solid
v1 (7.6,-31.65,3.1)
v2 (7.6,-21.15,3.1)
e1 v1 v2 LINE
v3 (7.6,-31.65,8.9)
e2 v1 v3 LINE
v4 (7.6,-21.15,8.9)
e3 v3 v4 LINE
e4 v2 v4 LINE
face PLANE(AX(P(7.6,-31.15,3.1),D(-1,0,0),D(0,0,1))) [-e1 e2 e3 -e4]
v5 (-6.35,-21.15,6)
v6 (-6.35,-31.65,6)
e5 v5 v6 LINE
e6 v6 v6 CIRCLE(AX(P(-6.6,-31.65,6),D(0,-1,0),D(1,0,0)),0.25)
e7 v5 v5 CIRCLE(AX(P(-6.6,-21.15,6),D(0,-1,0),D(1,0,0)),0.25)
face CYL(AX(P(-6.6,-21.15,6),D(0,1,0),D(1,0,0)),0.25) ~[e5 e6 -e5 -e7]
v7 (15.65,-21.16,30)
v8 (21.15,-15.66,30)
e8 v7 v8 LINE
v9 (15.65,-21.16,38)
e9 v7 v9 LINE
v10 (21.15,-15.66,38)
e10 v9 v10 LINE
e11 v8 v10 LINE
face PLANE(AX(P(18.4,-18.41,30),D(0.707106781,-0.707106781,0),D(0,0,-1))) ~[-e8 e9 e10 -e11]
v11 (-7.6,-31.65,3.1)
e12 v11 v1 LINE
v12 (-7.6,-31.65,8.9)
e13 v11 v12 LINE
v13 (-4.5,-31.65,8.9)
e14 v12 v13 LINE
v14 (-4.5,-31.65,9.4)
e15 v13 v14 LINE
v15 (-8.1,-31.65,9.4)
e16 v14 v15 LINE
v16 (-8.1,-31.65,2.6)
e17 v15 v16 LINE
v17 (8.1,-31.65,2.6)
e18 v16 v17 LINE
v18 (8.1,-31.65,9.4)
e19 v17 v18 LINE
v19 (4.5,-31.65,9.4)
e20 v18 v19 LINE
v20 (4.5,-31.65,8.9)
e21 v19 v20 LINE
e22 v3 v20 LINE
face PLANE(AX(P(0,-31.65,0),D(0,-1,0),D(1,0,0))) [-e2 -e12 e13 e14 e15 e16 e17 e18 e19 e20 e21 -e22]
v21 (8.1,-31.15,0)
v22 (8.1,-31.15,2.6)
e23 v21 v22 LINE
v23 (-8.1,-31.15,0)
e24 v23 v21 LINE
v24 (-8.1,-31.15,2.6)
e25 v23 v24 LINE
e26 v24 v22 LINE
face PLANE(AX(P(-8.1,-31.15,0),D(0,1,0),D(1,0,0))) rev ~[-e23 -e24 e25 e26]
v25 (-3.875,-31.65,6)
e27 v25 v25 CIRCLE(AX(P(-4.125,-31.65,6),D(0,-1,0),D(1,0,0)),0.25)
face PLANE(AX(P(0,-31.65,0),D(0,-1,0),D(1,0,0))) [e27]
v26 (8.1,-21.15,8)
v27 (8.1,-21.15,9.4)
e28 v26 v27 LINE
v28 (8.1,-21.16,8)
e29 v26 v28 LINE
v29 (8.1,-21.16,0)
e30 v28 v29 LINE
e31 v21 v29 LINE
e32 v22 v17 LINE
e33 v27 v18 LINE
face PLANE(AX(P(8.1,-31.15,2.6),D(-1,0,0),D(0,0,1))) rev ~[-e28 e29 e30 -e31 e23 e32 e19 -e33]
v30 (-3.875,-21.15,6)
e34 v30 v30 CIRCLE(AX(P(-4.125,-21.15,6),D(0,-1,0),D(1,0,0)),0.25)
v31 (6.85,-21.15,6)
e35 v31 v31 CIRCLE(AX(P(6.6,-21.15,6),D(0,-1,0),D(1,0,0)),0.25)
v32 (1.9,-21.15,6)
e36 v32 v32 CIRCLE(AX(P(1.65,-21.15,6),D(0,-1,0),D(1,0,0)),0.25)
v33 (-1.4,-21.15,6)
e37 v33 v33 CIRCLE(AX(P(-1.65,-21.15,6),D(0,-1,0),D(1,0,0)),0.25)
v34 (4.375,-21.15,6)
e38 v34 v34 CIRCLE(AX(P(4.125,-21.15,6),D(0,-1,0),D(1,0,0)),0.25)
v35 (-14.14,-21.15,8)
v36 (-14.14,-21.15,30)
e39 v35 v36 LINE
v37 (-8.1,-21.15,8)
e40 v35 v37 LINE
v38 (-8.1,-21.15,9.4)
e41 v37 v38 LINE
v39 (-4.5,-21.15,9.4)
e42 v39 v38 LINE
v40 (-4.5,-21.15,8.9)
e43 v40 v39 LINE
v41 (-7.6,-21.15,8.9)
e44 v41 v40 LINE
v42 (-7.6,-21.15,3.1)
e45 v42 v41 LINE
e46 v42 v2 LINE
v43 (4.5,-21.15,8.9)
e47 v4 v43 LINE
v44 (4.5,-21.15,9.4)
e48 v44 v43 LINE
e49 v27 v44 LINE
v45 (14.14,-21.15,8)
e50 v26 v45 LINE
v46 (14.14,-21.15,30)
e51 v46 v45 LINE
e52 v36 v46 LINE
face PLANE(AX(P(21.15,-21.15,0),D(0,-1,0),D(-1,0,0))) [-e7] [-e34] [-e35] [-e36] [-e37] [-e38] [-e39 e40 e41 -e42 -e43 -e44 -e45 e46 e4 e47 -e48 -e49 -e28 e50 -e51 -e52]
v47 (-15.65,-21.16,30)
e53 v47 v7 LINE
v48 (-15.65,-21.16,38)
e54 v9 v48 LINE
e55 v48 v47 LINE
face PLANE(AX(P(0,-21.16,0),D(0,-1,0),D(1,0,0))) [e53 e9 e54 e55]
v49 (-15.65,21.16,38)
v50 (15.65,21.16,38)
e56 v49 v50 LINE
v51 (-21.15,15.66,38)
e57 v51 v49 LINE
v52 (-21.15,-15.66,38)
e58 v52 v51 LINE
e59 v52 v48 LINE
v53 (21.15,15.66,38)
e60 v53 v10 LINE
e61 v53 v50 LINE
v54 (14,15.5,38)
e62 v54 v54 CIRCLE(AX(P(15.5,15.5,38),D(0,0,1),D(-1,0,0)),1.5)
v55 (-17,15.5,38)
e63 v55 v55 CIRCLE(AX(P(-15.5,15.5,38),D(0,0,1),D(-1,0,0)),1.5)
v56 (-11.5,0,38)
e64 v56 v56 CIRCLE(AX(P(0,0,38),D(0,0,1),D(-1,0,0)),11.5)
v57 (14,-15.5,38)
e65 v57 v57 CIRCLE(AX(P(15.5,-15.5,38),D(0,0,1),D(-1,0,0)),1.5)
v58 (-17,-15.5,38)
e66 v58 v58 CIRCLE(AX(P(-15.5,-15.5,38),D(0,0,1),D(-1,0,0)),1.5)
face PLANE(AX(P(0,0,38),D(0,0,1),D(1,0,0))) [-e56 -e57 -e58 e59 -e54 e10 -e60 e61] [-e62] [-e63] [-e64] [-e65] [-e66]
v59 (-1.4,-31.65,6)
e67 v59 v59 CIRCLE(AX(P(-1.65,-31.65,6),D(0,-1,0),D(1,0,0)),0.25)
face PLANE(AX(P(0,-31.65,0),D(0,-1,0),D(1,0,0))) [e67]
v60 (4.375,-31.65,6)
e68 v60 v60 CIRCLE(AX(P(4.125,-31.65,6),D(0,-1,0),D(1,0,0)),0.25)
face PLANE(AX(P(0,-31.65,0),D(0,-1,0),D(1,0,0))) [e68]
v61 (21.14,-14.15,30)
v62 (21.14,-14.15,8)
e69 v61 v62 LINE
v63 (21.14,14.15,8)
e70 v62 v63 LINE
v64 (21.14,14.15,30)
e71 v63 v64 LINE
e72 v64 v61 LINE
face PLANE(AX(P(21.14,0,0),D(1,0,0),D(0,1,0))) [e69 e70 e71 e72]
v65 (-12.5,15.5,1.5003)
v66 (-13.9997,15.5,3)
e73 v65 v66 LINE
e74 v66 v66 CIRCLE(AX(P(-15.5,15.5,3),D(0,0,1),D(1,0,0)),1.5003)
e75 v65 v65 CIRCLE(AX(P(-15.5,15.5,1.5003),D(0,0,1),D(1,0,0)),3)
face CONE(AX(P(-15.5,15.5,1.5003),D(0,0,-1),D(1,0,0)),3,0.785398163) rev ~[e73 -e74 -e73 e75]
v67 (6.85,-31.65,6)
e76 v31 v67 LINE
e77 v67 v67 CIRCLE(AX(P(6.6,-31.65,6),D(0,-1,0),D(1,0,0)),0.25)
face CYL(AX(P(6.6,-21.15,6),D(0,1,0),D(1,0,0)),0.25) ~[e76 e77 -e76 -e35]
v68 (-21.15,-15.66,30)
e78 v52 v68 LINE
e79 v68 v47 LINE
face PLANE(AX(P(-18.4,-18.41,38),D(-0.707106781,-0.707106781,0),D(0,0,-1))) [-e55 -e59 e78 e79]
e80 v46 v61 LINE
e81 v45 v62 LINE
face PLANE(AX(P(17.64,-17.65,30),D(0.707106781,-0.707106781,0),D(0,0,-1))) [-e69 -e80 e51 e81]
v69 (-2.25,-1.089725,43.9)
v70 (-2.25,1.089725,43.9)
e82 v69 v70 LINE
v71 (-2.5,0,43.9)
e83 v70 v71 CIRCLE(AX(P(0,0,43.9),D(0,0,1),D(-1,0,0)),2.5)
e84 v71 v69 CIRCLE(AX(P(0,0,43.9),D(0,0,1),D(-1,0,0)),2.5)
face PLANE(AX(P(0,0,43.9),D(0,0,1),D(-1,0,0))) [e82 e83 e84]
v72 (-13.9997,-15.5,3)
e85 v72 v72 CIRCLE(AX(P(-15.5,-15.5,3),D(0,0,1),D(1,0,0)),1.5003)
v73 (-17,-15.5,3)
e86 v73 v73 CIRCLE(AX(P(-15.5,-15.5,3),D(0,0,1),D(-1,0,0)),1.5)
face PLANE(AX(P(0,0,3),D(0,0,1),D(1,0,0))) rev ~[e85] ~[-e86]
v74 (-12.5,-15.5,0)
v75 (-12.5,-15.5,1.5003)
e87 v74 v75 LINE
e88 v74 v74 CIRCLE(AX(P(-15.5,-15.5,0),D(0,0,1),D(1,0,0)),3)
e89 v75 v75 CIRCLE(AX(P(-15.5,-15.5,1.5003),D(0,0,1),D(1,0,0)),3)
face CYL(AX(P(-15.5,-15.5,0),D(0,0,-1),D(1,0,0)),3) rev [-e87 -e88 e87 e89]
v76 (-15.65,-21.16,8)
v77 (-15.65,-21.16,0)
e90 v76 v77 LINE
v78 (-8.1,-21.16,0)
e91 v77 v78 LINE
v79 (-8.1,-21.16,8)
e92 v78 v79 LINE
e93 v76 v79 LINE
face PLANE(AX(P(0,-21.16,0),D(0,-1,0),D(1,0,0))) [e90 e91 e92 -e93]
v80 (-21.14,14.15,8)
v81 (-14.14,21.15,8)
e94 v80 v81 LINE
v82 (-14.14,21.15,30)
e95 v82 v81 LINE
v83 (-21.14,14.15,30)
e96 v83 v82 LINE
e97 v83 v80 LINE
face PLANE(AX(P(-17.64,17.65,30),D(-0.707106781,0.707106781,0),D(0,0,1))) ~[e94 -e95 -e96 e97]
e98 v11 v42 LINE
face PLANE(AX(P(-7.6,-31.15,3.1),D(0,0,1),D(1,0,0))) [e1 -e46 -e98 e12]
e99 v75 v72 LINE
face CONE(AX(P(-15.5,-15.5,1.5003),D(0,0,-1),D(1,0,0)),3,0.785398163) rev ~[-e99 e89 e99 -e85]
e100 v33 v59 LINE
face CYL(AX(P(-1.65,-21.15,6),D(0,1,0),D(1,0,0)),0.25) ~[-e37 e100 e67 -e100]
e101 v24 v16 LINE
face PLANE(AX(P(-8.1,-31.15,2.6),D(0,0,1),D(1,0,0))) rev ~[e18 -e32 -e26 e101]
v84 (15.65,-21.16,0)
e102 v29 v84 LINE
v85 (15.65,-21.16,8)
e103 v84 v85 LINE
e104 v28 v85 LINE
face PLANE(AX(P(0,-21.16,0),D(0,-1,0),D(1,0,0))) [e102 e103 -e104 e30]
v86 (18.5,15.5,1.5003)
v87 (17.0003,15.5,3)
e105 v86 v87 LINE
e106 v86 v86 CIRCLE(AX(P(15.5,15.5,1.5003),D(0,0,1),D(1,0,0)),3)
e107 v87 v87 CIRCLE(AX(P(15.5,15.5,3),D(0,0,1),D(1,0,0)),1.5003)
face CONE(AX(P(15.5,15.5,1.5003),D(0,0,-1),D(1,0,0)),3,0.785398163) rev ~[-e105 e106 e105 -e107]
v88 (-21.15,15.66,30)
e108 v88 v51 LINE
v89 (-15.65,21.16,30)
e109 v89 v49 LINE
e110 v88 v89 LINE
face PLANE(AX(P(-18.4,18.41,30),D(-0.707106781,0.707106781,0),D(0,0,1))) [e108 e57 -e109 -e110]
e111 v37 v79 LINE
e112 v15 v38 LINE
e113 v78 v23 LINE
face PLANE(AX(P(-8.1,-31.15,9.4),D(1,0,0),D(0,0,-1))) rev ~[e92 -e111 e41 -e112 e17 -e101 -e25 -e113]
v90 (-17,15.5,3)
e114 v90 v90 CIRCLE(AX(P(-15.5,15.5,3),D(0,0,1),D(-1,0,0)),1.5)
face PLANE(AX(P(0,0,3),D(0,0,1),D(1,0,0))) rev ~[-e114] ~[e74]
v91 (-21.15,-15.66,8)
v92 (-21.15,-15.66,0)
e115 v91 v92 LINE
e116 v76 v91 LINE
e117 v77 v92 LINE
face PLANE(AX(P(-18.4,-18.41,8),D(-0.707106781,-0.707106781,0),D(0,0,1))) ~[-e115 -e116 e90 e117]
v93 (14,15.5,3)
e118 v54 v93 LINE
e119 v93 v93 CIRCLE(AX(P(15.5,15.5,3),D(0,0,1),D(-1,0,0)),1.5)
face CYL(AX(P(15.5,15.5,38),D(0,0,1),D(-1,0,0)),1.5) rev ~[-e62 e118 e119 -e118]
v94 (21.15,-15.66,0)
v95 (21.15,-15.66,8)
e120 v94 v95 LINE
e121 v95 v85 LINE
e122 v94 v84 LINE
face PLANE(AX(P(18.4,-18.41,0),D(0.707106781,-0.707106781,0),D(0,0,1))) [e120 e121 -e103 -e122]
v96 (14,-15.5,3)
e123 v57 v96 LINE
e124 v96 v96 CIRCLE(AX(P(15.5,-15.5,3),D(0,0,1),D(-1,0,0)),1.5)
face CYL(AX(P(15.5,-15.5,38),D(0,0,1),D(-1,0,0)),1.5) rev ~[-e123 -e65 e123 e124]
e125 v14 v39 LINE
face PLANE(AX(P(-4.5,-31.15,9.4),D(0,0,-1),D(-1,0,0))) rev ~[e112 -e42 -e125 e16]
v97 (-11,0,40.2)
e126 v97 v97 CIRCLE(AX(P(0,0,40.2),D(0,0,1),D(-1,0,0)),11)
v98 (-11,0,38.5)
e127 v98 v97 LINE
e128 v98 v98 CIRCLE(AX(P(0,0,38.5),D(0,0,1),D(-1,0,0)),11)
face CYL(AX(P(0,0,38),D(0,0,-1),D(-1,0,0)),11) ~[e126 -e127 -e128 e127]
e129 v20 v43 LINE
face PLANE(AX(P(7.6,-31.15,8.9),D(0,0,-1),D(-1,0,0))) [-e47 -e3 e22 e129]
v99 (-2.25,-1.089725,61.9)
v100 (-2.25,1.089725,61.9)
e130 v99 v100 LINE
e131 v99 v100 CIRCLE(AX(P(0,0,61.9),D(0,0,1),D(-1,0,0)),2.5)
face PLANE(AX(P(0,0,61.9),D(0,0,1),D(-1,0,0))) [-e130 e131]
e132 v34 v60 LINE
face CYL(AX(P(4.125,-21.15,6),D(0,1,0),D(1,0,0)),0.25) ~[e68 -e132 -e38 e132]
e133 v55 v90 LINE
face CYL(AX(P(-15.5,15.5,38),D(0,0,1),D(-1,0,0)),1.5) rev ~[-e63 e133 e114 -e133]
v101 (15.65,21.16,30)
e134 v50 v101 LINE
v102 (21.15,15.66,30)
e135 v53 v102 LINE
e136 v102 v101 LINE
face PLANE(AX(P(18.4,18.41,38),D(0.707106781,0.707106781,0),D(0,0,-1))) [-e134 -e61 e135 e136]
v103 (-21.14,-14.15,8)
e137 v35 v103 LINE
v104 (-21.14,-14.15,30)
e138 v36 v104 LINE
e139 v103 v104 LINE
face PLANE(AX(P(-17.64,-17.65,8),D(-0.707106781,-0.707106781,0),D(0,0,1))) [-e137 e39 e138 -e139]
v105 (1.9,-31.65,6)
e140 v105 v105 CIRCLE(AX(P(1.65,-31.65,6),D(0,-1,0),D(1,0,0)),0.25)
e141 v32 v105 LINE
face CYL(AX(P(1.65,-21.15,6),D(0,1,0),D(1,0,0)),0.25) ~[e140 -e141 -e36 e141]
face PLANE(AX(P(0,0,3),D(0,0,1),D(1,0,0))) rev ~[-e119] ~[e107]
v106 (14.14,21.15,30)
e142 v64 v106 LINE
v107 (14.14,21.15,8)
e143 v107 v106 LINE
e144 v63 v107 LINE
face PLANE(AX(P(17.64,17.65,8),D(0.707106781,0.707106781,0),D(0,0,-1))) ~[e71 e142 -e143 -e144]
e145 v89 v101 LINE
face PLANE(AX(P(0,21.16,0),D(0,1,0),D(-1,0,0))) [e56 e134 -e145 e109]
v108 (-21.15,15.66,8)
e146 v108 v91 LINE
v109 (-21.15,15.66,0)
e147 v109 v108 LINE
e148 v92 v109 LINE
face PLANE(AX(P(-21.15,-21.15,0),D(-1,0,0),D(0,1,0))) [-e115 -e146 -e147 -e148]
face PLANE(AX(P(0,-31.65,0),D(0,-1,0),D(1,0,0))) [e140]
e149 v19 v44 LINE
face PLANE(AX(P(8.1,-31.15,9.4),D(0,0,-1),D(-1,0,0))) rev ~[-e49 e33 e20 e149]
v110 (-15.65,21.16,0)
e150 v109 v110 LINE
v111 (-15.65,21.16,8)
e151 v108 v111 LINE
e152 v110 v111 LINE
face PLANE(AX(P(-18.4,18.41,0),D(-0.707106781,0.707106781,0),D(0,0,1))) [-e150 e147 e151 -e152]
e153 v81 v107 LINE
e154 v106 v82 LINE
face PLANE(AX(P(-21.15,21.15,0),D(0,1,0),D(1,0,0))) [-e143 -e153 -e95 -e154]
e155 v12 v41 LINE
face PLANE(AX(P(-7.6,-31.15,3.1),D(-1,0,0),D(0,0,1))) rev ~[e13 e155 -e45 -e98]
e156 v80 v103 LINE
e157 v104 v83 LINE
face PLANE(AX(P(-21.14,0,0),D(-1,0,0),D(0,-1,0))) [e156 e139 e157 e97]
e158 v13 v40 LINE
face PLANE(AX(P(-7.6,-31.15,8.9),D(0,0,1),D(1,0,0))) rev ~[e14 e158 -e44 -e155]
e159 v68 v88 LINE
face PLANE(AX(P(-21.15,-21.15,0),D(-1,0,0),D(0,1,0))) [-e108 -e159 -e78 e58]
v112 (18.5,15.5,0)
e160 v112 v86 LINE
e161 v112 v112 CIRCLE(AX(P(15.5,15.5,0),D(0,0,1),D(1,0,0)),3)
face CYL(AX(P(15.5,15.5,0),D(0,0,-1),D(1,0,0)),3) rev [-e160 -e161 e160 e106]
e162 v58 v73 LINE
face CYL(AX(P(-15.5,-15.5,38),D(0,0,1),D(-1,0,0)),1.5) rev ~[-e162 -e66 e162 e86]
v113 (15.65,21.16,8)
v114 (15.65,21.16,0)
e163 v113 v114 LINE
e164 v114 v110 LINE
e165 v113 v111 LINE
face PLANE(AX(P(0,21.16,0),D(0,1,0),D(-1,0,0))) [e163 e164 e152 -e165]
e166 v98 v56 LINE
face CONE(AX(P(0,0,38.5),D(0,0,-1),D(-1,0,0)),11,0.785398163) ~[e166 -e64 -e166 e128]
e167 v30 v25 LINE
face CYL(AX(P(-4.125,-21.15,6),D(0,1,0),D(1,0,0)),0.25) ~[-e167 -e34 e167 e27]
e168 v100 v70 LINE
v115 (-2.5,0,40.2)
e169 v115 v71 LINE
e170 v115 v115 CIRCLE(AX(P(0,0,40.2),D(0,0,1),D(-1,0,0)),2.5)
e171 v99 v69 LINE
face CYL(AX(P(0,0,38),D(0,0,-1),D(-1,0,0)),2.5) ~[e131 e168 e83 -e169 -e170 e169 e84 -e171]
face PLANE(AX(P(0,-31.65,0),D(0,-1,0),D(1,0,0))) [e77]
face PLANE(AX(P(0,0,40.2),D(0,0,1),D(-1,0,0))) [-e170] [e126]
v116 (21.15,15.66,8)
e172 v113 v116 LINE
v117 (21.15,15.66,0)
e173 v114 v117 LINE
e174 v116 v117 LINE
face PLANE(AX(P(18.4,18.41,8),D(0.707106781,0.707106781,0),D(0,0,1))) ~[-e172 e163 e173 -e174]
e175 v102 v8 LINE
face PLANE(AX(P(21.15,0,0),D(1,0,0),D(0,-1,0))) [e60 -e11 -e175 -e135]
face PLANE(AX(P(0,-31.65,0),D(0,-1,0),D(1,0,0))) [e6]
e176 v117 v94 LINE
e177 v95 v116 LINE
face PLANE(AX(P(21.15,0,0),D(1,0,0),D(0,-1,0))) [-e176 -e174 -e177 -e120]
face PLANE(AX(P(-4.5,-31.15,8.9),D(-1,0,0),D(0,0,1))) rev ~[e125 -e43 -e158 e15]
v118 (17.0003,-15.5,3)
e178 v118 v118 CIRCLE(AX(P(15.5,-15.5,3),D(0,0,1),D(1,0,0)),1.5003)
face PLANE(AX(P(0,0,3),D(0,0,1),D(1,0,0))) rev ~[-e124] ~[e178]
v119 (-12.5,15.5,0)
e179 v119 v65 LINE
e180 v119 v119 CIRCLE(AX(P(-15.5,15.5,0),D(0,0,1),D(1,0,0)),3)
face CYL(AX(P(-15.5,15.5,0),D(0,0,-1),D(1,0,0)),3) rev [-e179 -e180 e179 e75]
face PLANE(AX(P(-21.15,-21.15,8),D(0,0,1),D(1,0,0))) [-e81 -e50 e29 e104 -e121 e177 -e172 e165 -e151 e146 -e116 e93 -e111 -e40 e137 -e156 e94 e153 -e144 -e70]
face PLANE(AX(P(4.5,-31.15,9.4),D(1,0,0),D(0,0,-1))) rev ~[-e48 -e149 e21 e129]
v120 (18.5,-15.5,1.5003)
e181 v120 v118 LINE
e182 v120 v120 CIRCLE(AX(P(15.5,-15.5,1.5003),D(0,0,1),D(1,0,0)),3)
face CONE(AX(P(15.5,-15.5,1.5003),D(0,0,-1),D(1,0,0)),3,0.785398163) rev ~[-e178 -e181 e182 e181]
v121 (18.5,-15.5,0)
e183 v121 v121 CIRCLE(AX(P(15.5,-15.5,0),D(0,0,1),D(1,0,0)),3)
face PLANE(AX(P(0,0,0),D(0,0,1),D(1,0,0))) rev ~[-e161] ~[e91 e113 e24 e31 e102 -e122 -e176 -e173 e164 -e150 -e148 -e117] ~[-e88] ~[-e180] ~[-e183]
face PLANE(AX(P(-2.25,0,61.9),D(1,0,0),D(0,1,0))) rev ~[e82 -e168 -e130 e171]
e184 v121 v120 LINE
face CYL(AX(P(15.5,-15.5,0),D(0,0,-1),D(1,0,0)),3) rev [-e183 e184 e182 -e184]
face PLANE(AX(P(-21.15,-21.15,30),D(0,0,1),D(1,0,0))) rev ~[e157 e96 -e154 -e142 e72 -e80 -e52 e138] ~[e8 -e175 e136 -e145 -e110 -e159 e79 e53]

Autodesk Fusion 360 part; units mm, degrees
sketch "Sketch1" plane through (0, 0, 0) normal (0, 0, 1) x (1, 0, 0)
  line L0 (21.15, -21.15) -> (-21.15, -21.15)
  line L1 (-21.15, -21.15) -> (-21.15, 21.15)
  line L2 (-21.15, 21.15) -> (21.15, 21.15)
  line L3 (21.15, 21.15) -> (21.15, -21.15)
  line L4 (21.15, -21.15) -> (-21.15, 21.15) construction
  line L5 (-21.15, -21.15) -> (21.15, 21.15) construction
  line L6 (-8.1, -21.15) -> (8.1, -21.15)
  line L7 (-8.1, -21.15) -> (-8.1, -31.15)
  line L8 (-8.1, -31.15) -> (8.1, -31.15)
  line L9 (8.1, -31.15) -> (8.1, -21.15)
  line L10 (15.5, 15.5) -> (-15.5, 15.5) construction
  line L11 (-15.5, 15.5) -> (-15.5, -15.5) construction
  line L12 (-15.5, -15.5) -> (15.5, -15.5) construction
  line L13 (15.5, -15.5) -> (15.5, 15.5) construction
  line L14 (15.5, 15.5) -> (-15.5, -15.5) construction
  line L15 (-15.5, 15.5) -> (15.5, -15.5) construction
  circle A0 centre (-15.5, -15.5) radius 3
  circle A1 centre (15.5, -15.5) radius 3
  line L16 (1.75, 0) -> (22.5, 0)
  circle A2 centre (15.5, 15.5) radius 3
  circle A3 centre (-15.5, 15.5) radius 3
  dimension "d1" = 42.3
  dimension "d2" = 42.3
  dimension "d5" = 10
  dimension "d6" = 16.2
  dimension "d7" = 13.05
  dimension "d23" = 31
  dimension "d24" = 31
  dimension "d25" = 6
  dimension "d26" = 6
extrude "Extrude1" add sketch "Sketch1" along normal blind 38 contours L0 L1 L2 L3 L6 | A0 | A1 | A2 | A3
extrude "Extrude2" add sketch "Sketch1" along normal blind 9.4 contours L0 L6 L7 L8 L9
sketch "Sketch2" plane through (0, 0, 38) normal (0, 0, 1) x (-1, 0, 0)
  line L0 (21.15, 21.15) -> (-21.15, 21.15)
  line L1 (-21.15, 21.15) -> (-21.15, -21.15)
  line L2 (-21.15, -21.15) -> (21.15, -21.15)
  line L3 (21.15, -21.15) -> (21.15, 21.15)
  circle A0 centre (0, 0) radius 2.5
  dimension "d12" = 5
extrude "Extrude3" add sketch "Sketch2" along normal blind 23.9 contours A0
sketch "Sketch3" plane through (0, 0, 38) normal (0, 0, 1) x (-1, 0, 0)
  circle A0 centre (0, 0) radius 2.5
  line L0 (21.15, 21.15) -> (-21.15, 21.15)
  line L1 (-21.15, 21.15) -> (-21.15, -21.15)
  line L2 (-21.15, -21.15) -> (21.15, -21.15)
  line L3 (21.15, -21.15) -> (21.15, 21.15)
  line L4 (-15.5, 15.5) -> (15.5, 15.5) construction
  line L5 (15.5, 15.5) -> (15.5, -15.5) construction
  line L6 (15.5, -15.5) -> (-15.5, -15.5) construction
  line L7 (-15.5, -15.5) -> (-15.5, 15.5) construction
  line L8 (-15.5, 15.5) -> (15.5, -15.5) construction
  line L9 (15.5, 15.5) -> (-15.5, -15.5) construction
  circle A1 centre (15.5, -15.5) radius 1.5
  circle A2 centre (-15.5, -15.5) radius 1.5
  circle A3 centre (-15.5, 15.5) radius 1.5
  circle A4 centre (15.5, 15.5) radius 1.5
  circle A5 centre (0, 0) radius 11
  dimension "d15" = 31
  dimension "d16" = 31
  dimension "d17" = 3
  dimension "d18" = 3
  dimension "d19" = 3
  dimension "d20" = 3
  dimension "d30" = 22
extrude "Extrude4" cut sketch "Sketch3" against normal up to surface (38 mm away) contours A1 | A2 | A3 | A4
extrude "Extrude5" cut sketch "Sketch1" along normal blind 3 contours A0 | A1 | A2 | A3
chamfer "Chamfer1" distance 1.5 angle 45 4 edges at (12.703, -16.5848, 3) (-18.297, -16.5848, 3) (12.703, 14.4152, 3) (-18.297, 14.4152, 3)
extrude "Extrude6" add sketch "Sketch3" along normal blind 2.2 contours A5
sketch "Sketch4" plane through (0, 0, 61.9) normal (0, 0, 1) x (-1, 0, 0)
  circle A0 centre (0, 0) radius 2.5
  line L0 (0, 0) -> (2.25, 0)
  line L1 (2.25, 0) -> (2.25, -2.5)
  line L2 (2.25, -2.5) -> (2.25, 0)
  line L3 (2.25, 0) -> (2.25, 2.5)
  dimension "d34" = 2.25
extrude "Extrude7" cut sketch "Sketch4" against normal blind 18 contours A0 L1 L2 L3 picked at (2.4114, -0.0938)
chamfer "Chamfer3" distance 0.5 angle 45 1 edges at (10.2556, -3.9778, 38)
sketch "Sketch5" plane through (0, -31.15, 0) normal (0, -1, 0) x (1, 0, 0)
  line L0 (-8.1, 0) -> (8.1, 0)
  line L1 (8.1, 0) -> (8.1, 9.4)
  line L2 (8.1, 9.4) -> (-8.1, 9.4)
  line L3 (-8.1, 9.4) -> (-8.1, 0)
  line L4 (-8.1, 0) -> (-8.1, 2.6)
  line L5 (-8.1, 2.6) -> (8.1, 2.6)
  line L6 (8.1, 2.6) -> (8.1, 0)
  line L7 (8.1, 0) -> (-8.1, 0)
  line L8 (8.1, 2.6) -> (8.1, 9.4)
  line L9 (8.1, 9.4) -> (4.5, 9.4)
  line L10 (-8.1, 2.6) -> (-8.1, 9.4)
  line L11 (-8.1, 9.4) -> (-4.5, 9.4)
  line L12 (-7.6, 8.9) -> (-4.5, 8.9)
  line L13 (-7.6, 3.1) -> (-7.6, 8.9)
  line L14 (-7.6, 3.1) -> (7.6, 3.1)
  line L15 (7.6, 3.1) -> (7.6, 8.9)
  line L16 (7.6, 8.9) -> (4.5, 8.9)
  line L17 (-4.5, 8.9) -> (-4.5, 9.4)
  line L18 (4.5, 9.4) -> (4.5, 8.9)
  dimension "d38" = 2.6
  dimension "d39" = 3.6
  dimension "d40" = -0.5
extrude "Extrude8" cut sketch "Sketch5" against normal up to surface (10 mm away) contours L2 L12 L13 L14 L15 L16 L17 L18
extrude "Extrude9" add sketch "Sketch5" along normal blind 0.5 contours L1 L2 L3 L5 L8 L9 L10 L11 L12 L13 L14 L15 L16 L17 L18
sketch "Sketch6" plane through (0, -21.15, 0) normal (0, -1, 0) x (1, 0, 0)
  line L0 (21.15, 38) -> (-21.15, 38)
  line L1 (8.1, 0) -> (21.15, 0)
  line L2 (-8.1, 0) -> (-8.1, 9.4)
  line L3 (-8.1, 9.4) -> (-4.5, 9.4)
  line L4 (-4.5, 9.4) -> (-4.5, 8.9)
  line L5 (-4.5, 8.9) -> (-7.6, 8.9)
  line L6 (-7.6, 8.9) -> (-7.6, 3.1)
  line L7 (-7.6, 3.1) -> (7.6, 3.1)
  line L8 (7.6, 3.1) -> (7.6, 8.9)
  line L9 (7.6, 8.9) -> (4.5, 8.9)
  line L10 (4.5, 8.9) -> (4.5, 9.4)
  line L11 (4.5, 9.4) -> (8.1, 9.4)
  line L12 (8.1, 9.4) -> (8.1, 0)
  line L13 (7.6, 3.1) -> (7.6, 8.9)
  line L14 (7.6, 6) -> (6.6, 6) construction
  line L15 (6.6, 6) -> (0, 6) construction
  line L16 (0, 6) -> (3.3, 6) construction
  line L17 (3.3, 6) -> (6.6, 6) construction
  circle A0 centre (6.6, 6) radius 0.25
  line L18 (0, 6) -> (1, 6)
  line L19 (1, 6) -> (6.6, 6) construction
  circle A1 centre (4.125, 6) radius 0.25
  circle A2 centre (1.65, 6) radius 0.25
  line L20 (0, 6) -> (0, 5.2231)
  circle A3 centre (-4.125, 6) radius 0.25
  circle A4 centre (-6.6, 6) radius 0.25
  circle A5 centre (-1.65, 6) radius 0.25
  line L21 (21.15, 0) -> (21.15, 38)
  line L22 (-21.15, 38) -> (-21.15, 0)
  line L23 (-21.15, 0) -> (-8.1, 0)
  dimension "d45" = 1
  dimension "d46" = 0.5
  dimension "d48" = 1
  dimension "d49" = 0.5
  dimension "d50" = 0.5
  dimension "d51" = 2.475
  dimension "d52" = 2.475
extrude "Extrude10" add sketch "Sketch6" along normal up to surface (10.5 mm away) contours A0 | A1 | A2 | A3 | A4 | A5
sketch "Sketch7" plane through (0, 21.15, 0) normal (0, 1, 0) x (-1, 0, 0)
  line L0 (-21.15, 0) -> (21.15, 0)
  line L1 (21.15, 0) -> (21.15, 38)
  line L2 (21.15, 38) -> (-21.15, 38)
  line L3 (-21.15, 38) -> (-21.15, 0)
  line L4 (0, 0) -> (0, 8) construction
  line L5 (0, 8) -> (-21.15, 8)
  line L6 (-21.15, 8) -> (-21.15, 0)
  line L7 (0, 8) -> (21.15, 8)
  line L8 (21.15, 8) -> (21.15, 0)
  line L9 (0, 0) -> (0, 38) construction
  line L10 (0, 19) -> (2, 19)
  line L11 (0, 38) -> (0, 30) construction
  line L12 (0, 30) -> (21.15, 30)
  line L13 (21.15, 30) -> (21.15, 38)
  line L14 (0, 30) -> (-21.15, 30)
  line L15 (-21.15, 30) -> (-21.15, 38)
  dimension "d55" = 8
  dimension "d56" = 8
extrude "Extrude11" add sketch "Sketch7" along normal blind 0.01 contours L0 L1 L3 L5 L6 L7 L8 | L1 L2 L3 L12 L13 L14 L15
sketch "Sketch8" plane through (0, -21.15, 0) normal (0, -1, 0) x (1, 0, 0)
  circle A0 centre (-6.6, 6) radius 0.25
  circle A1 centre (4.125, 6) radius 0.25
  circle A2 centre (1.65, 6) radius 0.25
  circle A3 centre (-4.125, 6) radius 0.25
  circle A4 centre (6.6, 6) radius 0.25
  circle A5 centre (-1.65, 6) radius 0.25
  line L0 (-8.1, 0) -> (-8.1, 9.4)
  line L1 (-8.1, 9.4) -> (-4.5, 9.4)
  line L2 (-4.5, 9.4) -> (-4.5, 8.9)
  line L3 (-4.5, 8.9) -> (-7.6, 8.9)
  line L4 (-7.6, 8.9) -> (-7.6, 3.1)
  line L5 (-7.6, 3.1) -> (7.6, 3.1)
  line L6 (7.6, 3.1) -> (7.6, 8.9)
  line L7 (7.6, 8.9) -> (4.5, 8.9)
  line L8 (4.5, 8.9) -> (4.5, 9.4)
  line L9 (4.5, 9.4) -> (8.1, 9.4)
  line L10 (8.1, 9.4) -> (8.1, 0)
  line L11 (8.1, 0) -> (21.15, 0)
  line L12 (21.15, 0) -> (21.15, 38)
  line L13 (21.15, 38) -> (-21.15, 38)
  line L14 (-21.15, 38) -> (-21.15, 0)
  line L15 (-21.15, 0) -> (-8.1, 0)
  line L16 (-21.15, 38) -> (-21.15, 30)
  line L17 (-21.15, 30) -> (21.15, 30)
  line L18 (21.15, 30) -> (21.15, 38)
  line L19 (0, 38) -> (0, 0) construction
  line L20 (0, 0) -> (0, 19) construction
  line L21 (2.7667, 19) -> (0, 19)
  line L22 (-21.15, 0) -> (-21.15, 8)
  line L23 (21.15, 8) -> (21.15, 0)
  line L24 (-21.15, 8) -> (21.15, 8)
  dimension "d59" = 8
  dimension "d60" = 8
extrude "Extrude12" add sketch "Sketch8" along normal blind 0.01 contours L0 L14 L15 L22 L24 | L12 L13 L14 L16 L17 L18 | L10 L11 L12 L23 L24
sketch "Sketch9" plane through (21.15, 0, 0) normal (1, 0, 0) x (0, 1, 0)
  line L0 (-21.16, 0) -> (21.16, 0)
  line L1 (21.16, 0) -> (21.16, 8)
  line L2 (21.16, 8) -> (21.15, 8)
  line L3 (21.15, 8) -> (21.15, 30)
  line L4 (21.15, 30) -> (21.16, 30)
  line L5 (21.16, 30) -> (21.16, 38)
  line L6 (21.16, 38) -> (-21.16, 38)
  line L7 (-21.16, 38) -> (-21.16, 30)
  line L8 (-21.16, 30) -> (-21.15, 30)
  line L9 (-21.15, 30) -> (-21.15, 8)
  line L10 (-21.15, 8) -> (-21.16, 8)
  line L11 (-21.16, 8) -> (-21.16, 0)
  line L12 (21.16, 30) -> (-21.16, 30)
  line L13 (-21.16, 8) -> (21.15, 8)
sketch "Sketch10" plane through (-21.15, 0, 0) normal (-1, 0, 0) x (0, -1, 0)
  line L0 (-21.16, 0) -> (21.16, 0)
  line L1 (21.16, 0) -> (21.16, 8)
  line L2 (21.16, 8) -> (21.15, 8)
  line L3 (21.15, 8) -> (21.15, 30)
  line L4 (21.15, 30) -> (21.16, 30)
  line L5 (21.16, 30) -> (21.16, 38)
  line L6 (21.16, 38) -> (-21.16, 38)
  line L7 (-21.16, 38) -> (-21.16, 30)
  line L8 (-21.16, 30) -> (-21.15, 30)
  line L9 (-21.15, 30) -> (-21.15, 8)
  line L10 (-21.15, 8) -> (-21.16, 8)
  line L11 (-21.16, 8) -> (-21.16, 0)
  line L12 (21.15, 30) -> (-21.16, 30)
  line L13 (-21.15, 8) -> (21.16, 8)
extrude "Extrude13" cut sketch "Sketch10" against normal blind 0.01 contours L3 L9 L12 L13
extrude "Extrude14" cut sketch "Sketch9" against normal blind 0.01 contours L3 L9 L12 L13
chamfer "Chamfer4" distance 7 angle 45 1 edges at (-21.14, -21.15, 19)
chamfer "Chamfer5" distance 7 angle 45 3 edges at (21.14, -21.15, 19) (21.14, 21.15, 19) (-21.14, 21.15, 19)
chamfer "Chamfer6" distance 5.5 angle 45 8 edges at (-21.15, 21.16, 4) (-21.15, -21.16, 4) (-21.15, -21.16, 34) (-21.15, 21.16, 34) (21.15, 21.16, 4) (21.15, -21.16, 4) (21.15, -21.16, 34) (21.15, 21.16, 34)
